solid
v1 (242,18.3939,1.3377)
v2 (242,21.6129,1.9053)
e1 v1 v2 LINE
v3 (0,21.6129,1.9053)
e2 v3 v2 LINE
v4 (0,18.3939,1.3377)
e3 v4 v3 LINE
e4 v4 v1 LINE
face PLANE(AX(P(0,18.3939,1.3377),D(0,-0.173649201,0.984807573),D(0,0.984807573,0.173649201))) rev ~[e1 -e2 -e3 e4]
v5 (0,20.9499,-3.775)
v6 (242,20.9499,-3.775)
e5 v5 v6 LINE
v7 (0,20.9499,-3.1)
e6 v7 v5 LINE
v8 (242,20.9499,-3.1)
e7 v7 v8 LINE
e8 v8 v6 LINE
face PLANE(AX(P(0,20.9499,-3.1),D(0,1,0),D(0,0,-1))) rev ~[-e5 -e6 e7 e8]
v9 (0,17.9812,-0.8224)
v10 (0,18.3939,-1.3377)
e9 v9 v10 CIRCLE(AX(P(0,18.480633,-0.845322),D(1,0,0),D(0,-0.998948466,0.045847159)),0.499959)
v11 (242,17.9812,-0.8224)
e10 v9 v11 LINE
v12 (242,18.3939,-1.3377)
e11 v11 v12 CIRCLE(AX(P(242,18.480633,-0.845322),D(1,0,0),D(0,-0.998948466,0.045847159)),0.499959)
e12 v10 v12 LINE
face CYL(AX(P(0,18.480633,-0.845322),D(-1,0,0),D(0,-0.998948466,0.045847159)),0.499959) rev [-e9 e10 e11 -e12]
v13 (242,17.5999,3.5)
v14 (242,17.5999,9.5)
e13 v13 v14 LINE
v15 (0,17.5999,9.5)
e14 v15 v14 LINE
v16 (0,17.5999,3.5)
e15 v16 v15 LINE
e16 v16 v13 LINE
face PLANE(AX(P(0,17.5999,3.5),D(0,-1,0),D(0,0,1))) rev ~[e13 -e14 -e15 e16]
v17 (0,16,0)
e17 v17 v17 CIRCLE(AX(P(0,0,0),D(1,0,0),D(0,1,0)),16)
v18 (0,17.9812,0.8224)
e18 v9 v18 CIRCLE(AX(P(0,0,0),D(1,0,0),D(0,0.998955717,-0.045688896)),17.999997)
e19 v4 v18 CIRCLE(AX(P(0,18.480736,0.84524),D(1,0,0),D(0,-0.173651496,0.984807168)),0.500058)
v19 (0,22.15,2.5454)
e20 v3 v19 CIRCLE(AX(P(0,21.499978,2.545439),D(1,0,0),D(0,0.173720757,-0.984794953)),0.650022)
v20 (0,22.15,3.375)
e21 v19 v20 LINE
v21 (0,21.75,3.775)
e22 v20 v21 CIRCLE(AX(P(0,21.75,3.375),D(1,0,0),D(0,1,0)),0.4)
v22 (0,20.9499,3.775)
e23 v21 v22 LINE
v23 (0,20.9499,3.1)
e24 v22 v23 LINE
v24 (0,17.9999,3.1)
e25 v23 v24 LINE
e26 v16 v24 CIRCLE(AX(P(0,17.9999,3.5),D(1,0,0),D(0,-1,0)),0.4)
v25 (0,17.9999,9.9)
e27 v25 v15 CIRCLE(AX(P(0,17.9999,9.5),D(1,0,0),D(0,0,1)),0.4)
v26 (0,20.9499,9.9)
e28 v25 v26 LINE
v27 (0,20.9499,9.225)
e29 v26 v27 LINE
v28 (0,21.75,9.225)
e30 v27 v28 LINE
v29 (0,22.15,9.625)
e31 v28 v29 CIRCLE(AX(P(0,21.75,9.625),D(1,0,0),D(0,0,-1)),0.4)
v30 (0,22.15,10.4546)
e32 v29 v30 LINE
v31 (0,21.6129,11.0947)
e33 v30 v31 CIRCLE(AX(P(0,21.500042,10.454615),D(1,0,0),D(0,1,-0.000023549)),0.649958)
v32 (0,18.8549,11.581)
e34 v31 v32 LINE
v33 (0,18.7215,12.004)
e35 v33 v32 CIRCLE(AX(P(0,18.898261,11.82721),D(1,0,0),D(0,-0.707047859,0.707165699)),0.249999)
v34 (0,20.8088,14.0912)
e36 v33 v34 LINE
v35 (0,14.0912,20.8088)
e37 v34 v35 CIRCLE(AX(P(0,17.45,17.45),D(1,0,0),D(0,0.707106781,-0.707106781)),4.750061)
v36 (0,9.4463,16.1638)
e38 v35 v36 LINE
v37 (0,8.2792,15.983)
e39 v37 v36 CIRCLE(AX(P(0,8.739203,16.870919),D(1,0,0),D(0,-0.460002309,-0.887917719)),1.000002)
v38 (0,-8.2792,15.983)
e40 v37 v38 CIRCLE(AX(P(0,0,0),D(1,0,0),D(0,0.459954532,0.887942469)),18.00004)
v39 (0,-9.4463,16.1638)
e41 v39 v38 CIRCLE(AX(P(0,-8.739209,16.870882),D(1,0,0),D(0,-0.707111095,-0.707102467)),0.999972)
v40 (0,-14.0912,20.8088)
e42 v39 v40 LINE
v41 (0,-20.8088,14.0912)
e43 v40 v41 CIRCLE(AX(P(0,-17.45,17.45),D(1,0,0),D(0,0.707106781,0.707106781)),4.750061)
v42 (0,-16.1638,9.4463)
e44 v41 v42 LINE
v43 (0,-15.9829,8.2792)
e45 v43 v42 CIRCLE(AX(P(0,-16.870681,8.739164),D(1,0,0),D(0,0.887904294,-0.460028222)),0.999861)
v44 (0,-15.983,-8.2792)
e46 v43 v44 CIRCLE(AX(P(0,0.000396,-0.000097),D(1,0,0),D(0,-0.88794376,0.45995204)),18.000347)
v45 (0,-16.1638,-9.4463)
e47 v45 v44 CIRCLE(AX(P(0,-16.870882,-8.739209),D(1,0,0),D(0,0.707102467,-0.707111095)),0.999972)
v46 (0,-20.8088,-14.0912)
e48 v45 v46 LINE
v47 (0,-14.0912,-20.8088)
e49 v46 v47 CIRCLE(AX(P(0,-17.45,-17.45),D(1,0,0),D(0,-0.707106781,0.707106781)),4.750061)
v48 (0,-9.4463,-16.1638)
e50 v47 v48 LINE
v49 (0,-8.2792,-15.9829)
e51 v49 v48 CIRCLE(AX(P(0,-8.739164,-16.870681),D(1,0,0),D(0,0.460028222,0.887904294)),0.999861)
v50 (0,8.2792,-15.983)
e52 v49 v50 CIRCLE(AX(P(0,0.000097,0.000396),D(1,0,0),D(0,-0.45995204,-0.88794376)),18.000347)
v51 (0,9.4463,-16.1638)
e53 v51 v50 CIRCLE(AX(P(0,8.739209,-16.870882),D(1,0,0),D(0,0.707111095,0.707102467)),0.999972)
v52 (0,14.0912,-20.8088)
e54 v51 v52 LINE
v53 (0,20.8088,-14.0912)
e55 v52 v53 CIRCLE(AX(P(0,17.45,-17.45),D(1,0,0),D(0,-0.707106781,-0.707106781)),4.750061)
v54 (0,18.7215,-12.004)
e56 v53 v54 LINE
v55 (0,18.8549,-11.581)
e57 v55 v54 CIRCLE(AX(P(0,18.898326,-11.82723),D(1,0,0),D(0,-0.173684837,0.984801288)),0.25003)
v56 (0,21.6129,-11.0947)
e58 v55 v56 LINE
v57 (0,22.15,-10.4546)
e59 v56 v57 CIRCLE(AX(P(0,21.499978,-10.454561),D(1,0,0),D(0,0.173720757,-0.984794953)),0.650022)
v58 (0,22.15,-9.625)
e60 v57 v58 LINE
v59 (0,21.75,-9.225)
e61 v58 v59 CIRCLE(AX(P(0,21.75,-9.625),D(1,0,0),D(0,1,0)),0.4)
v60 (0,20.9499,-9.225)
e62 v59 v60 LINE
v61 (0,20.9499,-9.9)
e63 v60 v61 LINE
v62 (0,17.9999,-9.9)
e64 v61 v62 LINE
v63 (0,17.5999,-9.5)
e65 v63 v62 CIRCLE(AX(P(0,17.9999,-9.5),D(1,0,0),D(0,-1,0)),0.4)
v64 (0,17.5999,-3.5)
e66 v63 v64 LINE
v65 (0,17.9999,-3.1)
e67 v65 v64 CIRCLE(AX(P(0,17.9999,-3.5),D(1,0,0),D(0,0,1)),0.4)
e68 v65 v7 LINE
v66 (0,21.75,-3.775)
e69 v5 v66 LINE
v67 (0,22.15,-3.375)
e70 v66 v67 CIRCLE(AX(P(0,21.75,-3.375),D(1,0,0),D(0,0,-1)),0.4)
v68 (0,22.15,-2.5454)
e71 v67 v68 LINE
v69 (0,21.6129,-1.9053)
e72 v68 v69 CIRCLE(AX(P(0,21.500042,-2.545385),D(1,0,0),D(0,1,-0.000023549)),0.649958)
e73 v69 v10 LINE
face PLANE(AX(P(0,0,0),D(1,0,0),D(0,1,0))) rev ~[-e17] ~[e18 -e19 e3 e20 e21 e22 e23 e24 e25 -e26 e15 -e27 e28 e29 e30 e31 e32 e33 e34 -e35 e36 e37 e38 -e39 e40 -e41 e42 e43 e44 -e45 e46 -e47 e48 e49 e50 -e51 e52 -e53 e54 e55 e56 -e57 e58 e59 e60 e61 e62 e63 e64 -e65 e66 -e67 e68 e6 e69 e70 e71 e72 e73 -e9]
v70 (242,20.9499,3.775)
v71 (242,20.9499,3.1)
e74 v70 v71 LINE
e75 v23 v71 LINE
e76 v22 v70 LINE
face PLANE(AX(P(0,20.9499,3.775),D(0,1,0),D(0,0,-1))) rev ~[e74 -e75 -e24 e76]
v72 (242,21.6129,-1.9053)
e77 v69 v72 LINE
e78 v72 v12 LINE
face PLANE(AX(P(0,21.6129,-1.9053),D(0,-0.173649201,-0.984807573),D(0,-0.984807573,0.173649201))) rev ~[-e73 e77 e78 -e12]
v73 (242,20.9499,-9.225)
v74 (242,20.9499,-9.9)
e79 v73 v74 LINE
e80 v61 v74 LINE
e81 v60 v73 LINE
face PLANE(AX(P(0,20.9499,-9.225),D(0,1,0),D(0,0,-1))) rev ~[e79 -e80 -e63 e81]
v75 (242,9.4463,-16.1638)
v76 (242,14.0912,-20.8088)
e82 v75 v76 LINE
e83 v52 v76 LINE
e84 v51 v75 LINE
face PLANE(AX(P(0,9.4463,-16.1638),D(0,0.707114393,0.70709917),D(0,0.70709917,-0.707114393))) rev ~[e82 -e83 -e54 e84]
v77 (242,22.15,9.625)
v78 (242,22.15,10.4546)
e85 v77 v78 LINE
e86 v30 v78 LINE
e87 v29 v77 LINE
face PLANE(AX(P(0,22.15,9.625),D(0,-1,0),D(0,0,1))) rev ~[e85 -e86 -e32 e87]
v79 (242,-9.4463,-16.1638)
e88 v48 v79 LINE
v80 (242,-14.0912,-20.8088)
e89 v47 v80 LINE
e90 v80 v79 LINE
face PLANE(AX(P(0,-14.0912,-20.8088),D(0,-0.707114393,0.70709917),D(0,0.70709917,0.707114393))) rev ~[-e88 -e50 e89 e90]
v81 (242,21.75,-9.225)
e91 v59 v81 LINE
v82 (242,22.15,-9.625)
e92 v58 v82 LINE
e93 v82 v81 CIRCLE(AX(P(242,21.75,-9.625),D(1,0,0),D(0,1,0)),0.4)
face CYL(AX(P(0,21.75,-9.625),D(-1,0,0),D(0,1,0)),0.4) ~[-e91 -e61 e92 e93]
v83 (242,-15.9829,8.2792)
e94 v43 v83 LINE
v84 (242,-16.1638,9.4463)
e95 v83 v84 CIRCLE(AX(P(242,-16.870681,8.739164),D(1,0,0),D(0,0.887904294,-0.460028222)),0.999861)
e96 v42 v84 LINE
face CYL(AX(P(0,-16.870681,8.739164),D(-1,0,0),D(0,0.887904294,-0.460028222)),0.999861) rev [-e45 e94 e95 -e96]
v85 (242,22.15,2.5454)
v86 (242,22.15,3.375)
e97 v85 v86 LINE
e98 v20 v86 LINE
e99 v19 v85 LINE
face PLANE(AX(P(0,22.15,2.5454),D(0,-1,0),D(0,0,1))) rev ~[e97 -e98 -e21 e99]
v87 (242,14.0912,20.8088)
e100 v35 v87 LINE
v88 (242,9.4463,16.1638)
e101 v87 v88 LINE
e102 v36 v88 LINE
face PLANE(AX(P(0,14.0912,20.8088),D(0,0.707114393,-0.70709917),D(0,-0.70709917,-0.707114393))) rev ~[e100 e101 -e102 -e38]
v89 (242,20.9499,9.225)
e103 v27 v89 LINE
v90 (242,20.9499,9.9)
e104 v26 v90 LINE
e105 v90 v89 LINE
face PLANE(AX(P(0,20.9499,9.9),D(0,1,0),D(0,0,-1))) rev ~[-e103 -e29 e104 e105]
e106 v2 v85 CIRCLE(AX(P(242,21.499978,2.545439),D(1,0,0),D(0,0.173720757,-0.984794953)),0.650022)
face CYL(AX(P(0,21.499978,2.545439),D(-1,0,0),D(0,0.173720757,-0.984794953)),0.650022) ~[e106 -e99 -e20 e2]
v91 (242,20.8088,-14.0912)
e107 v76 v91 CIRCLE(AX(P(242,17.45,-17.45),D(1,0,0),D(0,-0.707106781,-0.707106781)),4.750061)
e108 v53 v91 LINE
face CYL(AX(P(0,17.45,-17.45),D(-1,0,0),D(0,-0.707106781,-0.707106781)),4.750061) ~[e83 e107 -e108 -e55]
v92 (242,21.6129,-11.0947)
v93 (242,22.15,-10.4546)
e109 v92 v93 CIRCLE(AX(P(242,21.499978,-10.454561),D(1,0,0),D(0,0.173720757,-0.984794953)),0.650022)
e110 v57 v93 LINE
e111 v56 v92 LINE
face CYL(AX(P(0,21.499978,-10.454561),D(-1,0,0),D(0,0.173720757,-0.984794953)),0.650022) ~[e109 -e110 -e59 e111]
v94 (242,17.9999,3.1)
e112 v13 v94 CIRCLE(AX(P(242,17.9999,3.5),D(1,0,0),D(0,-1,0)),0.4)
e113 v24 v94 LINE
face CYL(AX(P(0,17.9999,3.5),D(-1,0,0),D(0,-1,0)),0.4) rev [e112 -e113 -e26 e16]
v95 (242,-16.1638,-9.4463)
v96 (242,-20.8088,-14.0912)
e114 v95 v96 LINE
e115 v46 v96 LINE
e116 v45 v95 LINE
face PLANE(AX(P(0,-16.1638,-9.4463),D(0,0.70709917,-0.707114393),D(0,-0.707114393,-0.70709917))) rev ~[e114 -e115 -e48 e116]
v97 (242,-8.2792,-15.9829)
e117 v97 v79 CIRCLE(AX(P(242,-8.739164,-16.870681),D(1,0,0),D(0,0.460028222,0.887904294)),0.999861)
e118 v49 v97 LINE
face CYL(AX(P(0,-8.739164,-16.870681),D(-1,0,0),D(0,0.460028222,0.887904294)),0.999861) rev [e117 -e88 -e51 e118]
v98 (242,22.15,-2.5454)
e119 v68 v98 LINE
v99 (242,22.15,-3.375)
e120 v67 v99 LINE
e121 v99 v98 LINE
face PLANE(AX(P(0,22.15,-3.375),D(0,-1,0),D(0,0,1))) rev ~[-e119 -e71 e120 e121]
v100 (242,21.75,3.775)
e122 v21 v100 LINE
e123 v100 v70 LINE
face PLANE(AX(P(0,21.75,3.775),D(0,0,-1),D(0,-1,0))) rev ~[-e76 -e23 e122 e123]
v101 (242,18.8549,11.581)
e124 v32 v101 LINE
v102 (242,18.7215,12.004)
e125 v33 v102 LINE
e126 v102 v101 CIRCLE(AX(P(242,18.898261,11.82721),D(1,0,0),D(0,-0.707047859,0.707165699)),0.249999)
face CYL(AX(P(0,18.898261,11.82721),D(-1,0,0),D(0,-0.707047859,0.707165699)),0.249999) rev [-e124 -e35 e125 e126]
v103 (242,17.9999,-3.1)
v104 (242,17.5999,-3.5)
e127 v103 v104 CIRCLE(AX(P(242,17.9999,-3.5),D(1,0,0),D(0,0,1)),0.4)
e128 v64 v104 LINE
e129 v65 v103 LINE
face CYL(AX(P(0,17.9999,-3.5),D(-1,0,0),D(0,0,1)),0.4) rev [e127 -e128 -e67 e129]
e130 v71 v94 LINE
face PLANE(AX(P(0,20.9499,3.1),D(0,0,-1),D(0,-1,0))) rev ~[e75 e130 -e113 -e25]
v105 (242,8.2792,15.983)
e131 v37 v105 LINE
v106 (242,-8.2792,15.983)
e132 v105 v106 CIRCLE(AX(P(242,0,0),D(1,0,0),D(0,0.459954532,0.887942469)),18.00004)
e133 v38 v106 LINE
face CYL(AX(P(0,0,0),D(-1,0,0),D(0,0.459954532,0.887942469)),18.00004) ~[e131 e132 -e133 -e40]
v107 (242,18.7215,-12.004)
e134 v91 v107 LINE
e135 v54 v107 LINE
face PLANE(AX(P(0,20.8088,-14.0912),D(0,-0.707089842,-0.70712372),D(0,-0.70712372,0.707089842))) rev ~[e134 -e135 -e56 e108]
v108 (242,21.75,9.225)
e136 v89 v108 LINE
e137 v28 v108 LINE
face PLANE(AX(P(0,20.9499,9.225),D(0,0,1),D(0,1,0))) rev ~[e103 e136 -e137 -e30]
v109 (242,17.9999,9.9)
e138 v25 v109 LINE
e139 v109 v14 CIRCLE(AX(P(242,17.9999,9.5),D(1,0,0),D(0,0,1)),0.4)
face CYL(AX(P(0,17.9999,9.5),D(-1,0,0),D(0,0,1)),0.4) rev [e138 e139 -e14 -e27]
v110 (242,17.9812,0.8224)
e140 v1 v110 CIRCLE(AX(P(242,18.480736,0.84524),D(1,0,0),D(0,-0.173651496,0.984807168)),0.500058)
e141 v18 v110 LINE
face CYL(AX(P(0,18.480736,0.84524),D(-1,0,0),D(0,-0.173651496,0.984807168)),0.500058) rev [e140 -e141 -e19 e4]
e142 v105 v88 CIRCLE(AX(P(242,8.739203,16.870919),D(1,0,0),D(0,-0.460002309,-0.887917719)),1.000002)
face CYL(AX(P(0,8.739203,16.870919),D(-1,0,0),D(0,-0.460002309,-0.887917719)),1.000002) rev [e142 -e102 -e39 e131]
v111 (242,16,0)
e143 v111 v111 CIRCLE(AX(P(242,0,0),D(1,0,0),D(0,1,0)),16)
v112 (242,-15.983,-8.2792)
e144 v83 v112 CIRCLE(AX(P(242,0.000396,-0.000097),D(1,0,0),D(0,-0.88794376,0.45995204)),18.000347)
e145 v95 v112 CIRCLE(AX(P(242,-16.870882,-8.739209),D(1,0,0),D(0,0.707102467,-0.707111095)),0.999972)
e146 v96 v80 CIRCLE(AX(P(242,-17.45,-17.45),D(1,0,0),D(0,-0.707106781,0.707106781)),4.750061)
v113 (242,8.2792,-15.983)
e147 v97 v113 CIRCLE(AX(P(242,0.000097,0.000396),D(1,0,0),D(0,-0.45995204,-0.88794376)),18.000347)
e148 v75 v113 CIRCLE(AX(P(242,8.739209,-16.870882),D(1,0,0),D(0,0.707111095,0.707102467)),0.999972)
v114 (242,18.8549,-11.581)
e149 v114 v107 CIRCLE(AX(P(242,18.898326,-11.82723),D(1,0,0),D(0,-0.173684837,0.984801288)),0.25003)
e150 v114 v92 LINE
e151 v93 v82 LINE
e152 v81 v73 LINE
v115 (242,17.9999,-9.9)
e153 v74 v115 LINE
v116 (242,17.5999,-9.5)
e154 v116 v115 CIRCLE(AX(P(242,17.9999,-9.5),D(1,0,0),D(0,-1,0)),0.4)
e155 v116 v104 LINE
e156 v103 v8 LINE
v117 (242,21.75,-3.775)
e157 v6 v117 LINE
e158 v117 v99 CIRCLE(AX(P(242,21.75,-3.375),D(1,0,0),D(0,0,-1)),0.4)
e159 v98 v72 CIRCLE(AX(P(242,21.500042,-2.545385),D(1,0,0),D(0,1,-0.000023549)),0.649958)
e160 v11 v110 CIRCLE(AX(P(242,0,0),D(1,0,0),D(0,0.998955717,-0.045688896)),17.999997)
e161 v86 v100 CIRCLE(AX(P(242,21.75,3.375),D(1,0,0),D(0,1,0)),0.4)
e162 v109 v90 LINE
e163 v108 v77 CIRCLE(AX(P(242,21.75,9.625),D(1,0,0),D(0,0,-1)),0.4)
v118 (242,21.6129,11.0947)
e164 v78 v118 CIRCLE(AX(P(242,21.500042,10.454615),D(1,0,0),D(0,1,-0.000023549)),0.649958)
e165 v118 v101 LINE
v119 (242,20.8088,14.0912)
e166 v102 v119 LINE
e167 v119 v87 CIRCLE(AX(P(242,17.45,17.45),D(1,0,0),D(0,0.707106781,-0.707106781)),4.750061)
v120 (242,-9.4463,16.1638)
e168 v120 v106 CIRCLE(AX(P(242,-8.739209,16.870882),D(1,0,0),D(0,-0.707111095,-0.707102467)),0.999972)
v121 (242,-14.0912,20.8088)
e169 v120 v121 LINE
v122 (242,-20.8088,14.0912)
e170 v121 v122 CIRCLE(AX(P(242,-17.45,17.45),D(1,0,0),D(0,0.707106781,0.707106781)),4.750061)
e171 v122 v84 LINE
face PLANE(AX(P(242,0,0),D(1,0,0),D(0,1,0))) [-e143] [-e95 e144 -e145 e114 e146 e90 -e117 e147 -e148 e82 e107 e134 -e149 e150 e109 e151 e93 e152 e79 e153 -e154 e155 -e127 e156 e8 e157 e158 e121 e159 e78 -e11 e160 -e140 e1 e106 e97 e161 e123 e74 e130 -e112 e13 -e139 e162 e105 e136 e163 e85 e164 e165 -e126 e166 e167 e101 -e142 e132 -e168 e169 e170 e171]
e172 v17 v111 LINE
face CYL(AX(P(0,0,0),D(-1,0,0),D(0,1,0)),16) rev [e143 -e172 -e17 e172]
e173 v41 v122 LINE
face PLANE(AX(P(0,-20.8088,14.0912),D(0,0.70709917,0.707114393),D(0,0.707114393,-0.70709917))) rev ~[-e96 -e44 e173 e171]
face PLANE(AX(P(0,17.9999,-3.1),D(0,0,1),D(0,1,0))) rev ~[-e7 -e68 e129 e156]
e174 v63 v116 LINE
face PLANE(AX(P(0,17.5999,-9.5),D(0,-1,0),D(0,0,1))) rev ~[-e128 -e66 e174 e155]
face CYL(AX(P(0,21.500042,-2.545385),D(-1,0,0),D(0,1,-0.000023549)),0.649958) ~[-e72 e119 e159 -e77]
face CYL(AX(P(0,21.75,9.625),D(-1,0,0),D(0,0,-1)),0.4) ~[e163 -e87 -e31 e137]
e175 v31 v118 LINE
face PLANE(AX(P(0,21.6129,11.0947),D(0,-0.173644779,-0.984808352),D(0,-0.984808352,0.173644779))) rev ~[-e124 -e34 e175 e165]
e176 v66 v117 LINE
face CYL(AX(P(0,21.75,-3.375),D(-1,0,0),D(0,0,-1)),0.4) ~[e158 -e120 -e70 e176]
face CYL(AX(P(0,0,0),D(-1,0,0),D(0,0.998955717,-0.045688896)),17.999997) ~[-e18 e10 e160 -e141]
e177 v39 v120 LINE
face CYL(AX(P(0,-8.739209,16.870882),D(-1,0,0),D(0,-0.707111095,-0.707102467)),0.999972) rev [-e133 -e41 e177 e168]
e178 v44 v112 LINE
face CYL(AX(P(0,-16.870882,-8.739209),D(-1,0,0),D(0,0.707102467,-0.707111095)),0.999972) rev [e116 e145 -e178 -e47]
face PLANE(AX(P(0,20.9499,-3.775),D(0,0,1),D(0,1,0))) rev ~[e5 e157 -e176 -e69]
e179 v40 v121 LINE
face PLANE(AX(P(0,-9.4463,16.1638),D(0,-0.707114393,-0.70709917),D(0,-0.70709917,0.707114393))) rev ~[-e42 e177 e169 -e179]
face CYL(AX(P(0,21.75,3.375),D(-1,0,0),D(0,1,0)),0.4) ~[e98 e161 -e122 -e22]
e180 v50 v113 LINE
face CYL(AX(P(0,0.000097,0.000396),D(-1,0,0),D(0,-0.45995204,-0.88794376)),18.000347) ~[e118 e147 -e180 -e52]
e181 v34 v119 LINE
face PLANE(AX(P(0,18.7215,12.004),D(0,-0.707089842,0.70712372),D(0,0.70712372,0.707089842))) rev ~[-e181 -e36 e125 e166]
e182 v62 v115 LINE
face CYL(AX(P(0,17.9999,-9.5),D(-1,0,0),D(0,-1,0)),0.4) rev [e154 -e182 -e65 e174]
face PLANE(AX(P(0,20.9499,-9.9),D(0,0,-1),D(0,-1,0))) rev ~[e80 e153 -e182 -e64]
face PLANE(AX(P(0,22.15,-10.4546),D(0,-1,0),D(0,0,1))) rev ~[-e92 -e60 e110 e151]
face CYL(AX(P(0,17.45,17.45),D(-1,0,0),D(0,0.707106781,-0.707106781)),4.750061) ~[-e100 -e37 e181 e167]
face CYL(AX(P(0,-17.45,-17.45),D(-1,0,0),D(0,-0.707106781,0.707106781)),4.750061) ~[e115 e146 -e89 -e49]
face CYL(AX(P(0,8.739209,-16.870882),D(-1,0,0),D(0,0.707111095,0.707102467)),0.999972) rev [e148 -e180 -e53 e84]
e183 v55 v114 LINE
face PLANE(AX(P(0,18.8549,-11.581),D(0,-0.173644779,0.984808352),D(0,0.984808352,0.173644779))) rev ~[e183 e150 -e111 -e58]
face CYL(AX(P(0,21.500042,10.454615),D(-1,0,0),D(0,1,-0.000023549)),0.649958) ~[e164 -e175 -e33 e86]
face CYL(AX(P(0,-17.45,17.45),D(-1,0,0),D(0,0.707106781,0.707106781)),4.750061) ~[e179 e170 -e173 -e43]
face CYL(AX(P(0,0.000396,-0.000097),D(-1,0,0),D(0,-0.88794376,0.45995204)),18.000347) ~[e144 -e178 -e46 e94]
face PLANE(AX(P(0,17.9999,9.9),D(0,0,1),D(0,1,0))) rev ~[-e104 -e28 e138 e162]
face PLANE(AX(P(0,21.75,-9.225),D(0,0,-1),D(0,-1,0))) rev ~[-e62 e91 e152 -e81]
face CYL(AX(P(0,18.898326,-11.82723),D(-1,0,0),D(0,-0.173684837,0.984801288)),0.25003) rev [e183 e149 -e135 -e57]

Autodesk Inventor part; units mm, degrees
sketch "Sketch_1" plane through (0, 0, 0) normal (1, 0, 0) x (0, 1, 0)
  arc A0 (-14.0912, 20.8088) -> (-20.8088, 14.0912) centre (-17.45, 17.45) ccw
  line L0 (-20.8088, 14.0912) -> (-16.1638, 9.4463)
  arc A1 (-15.9829, 8.2792) -> (-16.1638, 9.4463) centre (-16.8709, 8.7392) ccw
  arc A2 (-15.9829, 8.2792) -> (-15.983, -8.2792) centre (0, 0) ccw
  arc A3 (-16.1638, -9.4463) -> (-15.983, -8.2792) centre (-16.8709, -8.7392) ccw
  line L1 (-16.1638, -9.4463) -> (-20.8088, -14.0912)
  arc A4 (-20.8088, -14.0912) -> (-14.0912, -20.8088) centre (-17.45, -17.45) ccw
  line L2 (-14.0912, -20.8088) -> (-9.4463, -16.1638)
  arc A5 (-8.2792, -15.9829) -> (-9.4463, -16.1638) centre (-8.7392, -16.8709) ccw
  arc A6 (-8.2792, -15.9829) -> (8.2792, -15.983) centre (0, 0) ccw
  arc A7 (9.4463, -16.1638) -> (8.2792, -15.983) centre (8.7392, -16.8709) ccw
  line L3 (9.4463, -16.1638) -> (14.0912, -20.8088)
  arc A8 (14.0912, -20.8088) -> (20.8088, -14.0912) centre (17.45, -17.45) ccw
  line L4 (20.8088, -14.0912) -> (18.7215, -12.004)
  arc A9 (18.8549, -11.581) -> (18.7215, -12.004) centre (18.8983, -11.8272) ccw
  line L5 (18.8549, -11.581) -> (21.6129, -11.0947)
  arc A10 (21.6129, -11.0947) -> (22.15, -10.4546) centre (21.5, -10.4546) ccw
  line L6 (22.15, -10.4546) -> (22.15, -9.625)
  arc A11 (22.15, -9.625) -> (21.75, -9.225) centre (21.75, -9.625) ccw
  line L7 (21.75, -9.225) -> (20.9499, -9.225)
  line L8 (20.9499, -9.225) -> (20.9499, -9.9)
  line L9 (20.9499, -9.9) -> (17.9999, -9.9)
  arc A12 (17.5999, -9.5) -> (17.9999, -9.9) centre (17.9999, -9.5) ccw
  line L10 (17.5999, -9.5) -> (17.5999, -3.5)
  arc A13 (17.9999, -3.1) -> (17.5999, -3.5) centre (17.9999, -3.5) ccw
  line L11 (17.9999, -3.1) -> (20.9499, -3.1)
  line L12 (20.9499, -3.1) -> (20.9499, -3.775)
  line L13 (20.9499, -3.775) -> (21.75, -3.775)
  arc A14 (21.75, -3.775) -> (22.15, -3.375) centre (21.75, -3.375) ccw
  line L14 (22.15, -3.375) -> (22.15, -2.5454)
  arc A15 (22.15, -2.5454) -> (21.6129, -1.9053) centre (21.5, -2.5454) ccw
  line L15 (21.6129, -1.9053) -> (18.3939, -1.3377)
  arc A16 (17.9812, -0.8224) -> (18.3939, -1.3377) centre (18.4807, -0.8453) ccw
  arc A17 (17.9812, -0.8224) -> (17.9812, 0.8224) centre (0, 0) ccw
  arc A18 (18.3939, 1.3377) -> (17.9812, 0.8224) centre (18.4807, 0.8453) ccw
  line L16 (18.3939, 1.3377) -> (21.6129, 1.9053)
  arc A19 (21.6129, 1.9053) -> (22.15, 2.5454) centre (21.5, 2.5454) ccw
  line L17 (22.15, 2.5454) -> (22.15, 3.375)
  arc A20 (22.15, 3.375) -> (21.75, 3.775) centre (21.75, 3.375) ccw
  line L18 (21.75, 3.775) -> (20.9499, 3.775)
  line L19 (20.9499, 3.775) -> (20.9499, 3.1)
  line L20 (20.9499, 3.1) -> (17.9999, 3.1)
  arc A21 (17.5999, 3.5) -> (17.9999, 3.1) centre (17.9999, 3.5) ccw
  line L21 (17.5999, 3.5) -> (17.5999, 9.5)
  arc A22 (17.9999, 9.9) -> (17.5999, 9.5) centre (17.9999, 9.5) ccw
  line L22 (17.9999, 9.9) -> (20.9499, 9.9)
  line L23 (20.9499, 9.9) -> (20.9499, 9.225)
  line L24 (20.9499, 9.225) -> (21.75, 9.225)
  arc A23 (21.75, 9.225) -> (22.15, 9.625) centre (21.75, 9.625) ccw
  line L25 (22.15, 9.625) -> (22.15, 10.4546)
  arc A24 (22.15, 10.4546) -> (21.6129, 11.0947) centre (21.5, 10.4546) ccw
  line L26 (21.6129, 11.0947) -> (18.8549, 11.581)
  arc A25 (18.7215, 12.004) -> (18.8549, 11.581) centre (18.8983, 11.8272) ccw
  line L27 (18.7215, 12.004) -> (20.8088, 14.0912)
  arc A26 (20.8088, 14.0912) -> (14.0912, 20.8088) centre (17.45, 17.45) ccw
  line L28 (14.0912, 20.8088) -> (9.4463, 16.1638)
  arc A27 (8.2792, 15.983) -> (9.4463, 16.1638) centre (8.7392, 16.8709) ccw
  arc A28 (8.2792, 15.983) -> (-8.2792, 15.983) centre (0, 0) ccw
  arc A29 (-9.4463, 16.1638) -> (-8.2792, 15.983) centre (-8.7392, 16.8709) ccw
  line L29 (-9.4463, 16.1638) -> (-14.0912, 20.8088)
  circle A30 centre (0, 0) radius 16
extrude "Extrusion1" add sketch "Sketch_1" along normal blind 242
ref_plane "br_l_XY" through (0, 0, 0) normal (1, 0, 0) x (0, 0, -1)
ref_plane "br_l_YZ" through (0, 0, 0) normal (0, 0, -1) x (0, 1, 0)
ref_plane "br_l_ZX" through (0, 0, 0) normal (0, 1, 0) x (1, 0, 0)
ref_plane "br_r_XY" through (242, 0, 0) normal (-1, 0, 0) x (0, 0, -1)
ref_plane "br_r_YZ" through (242, 0, 0) normal (0, 0, -1) x (0, -1, 0)
ref_plane "br_r_ZX" through (242, 0, 0) normal (0, -1, 0) x (-1, 0, 0)
ref_plane "mod_en_XY" through (121, 0, 0) normal (1, 0, 0) x (0, 0, -1)
ref_plane "mod_en_YZ" through (121, 0, 0) normal (0, 0, -1) x (0, 1, 0)
ref_plane "mod_en_ZX" through (121, 0, 0) normal (0, 1, 0) x (1, 0, 0)
ref_plane "sens_sqr_l_XY" through (0, 17.6, -6.5) normal (-1, 0, 0) x (0, 0, -1)
ref_plane "sens_sqr_l_YZ" through (0, 17.6, -6.5) normal (0, 0, -1) x (0, -1, 0)
ref_plane "sens_sqr_l_ZX" through (0, 17.6, -6.5) normal (0, -1, 0) x (-1, 0, 0)
ref_plane "sens_sqr_r_XY" through (242, 17.6, 6.5) normal (1, 0, 0) x (0, 0, -1)
ref_plane "sens_sqr_r_YZ" through (242, 17.6, 6.5) normal (0, 0, -1) x (0, 1, 0)
ref_plane "sens_sqr_r_ZX" through (242, 17.6, 6.5) normal (0, 1, 0) x (1, 0, 0)
ref_plane "sensor_l_XY" through (2.7, 19.65, -6.5) normal (0, -1, 0) x (1, 0, 0)
ref_plane "sensor_l_YZ" through (2.7, 19.65, -6.5) normal (1, 0, 0) x (0, 0, 1)
ref_plane "sensor_l_ZX" through (2.7, 19.65, -6.5) normal (0, 0, 1) x (0, -1, 0)
ref_plane "sensor_r_XY" through (239.3, 19.65, 6.5) normal (0, -1, 0) x (1, 0, 0)
ref_plane "sensor_r_YZ" through (239.3, 19.65, 6.5) normal (1, 0, 0) x (0, 0, 1)
ref_plane "sensor_r_ZX" through (239.3, 19.65, 6.5) normal (0, 0, 1) x (0, -1, 0)
properties part number "32-121-200--173-s3"
